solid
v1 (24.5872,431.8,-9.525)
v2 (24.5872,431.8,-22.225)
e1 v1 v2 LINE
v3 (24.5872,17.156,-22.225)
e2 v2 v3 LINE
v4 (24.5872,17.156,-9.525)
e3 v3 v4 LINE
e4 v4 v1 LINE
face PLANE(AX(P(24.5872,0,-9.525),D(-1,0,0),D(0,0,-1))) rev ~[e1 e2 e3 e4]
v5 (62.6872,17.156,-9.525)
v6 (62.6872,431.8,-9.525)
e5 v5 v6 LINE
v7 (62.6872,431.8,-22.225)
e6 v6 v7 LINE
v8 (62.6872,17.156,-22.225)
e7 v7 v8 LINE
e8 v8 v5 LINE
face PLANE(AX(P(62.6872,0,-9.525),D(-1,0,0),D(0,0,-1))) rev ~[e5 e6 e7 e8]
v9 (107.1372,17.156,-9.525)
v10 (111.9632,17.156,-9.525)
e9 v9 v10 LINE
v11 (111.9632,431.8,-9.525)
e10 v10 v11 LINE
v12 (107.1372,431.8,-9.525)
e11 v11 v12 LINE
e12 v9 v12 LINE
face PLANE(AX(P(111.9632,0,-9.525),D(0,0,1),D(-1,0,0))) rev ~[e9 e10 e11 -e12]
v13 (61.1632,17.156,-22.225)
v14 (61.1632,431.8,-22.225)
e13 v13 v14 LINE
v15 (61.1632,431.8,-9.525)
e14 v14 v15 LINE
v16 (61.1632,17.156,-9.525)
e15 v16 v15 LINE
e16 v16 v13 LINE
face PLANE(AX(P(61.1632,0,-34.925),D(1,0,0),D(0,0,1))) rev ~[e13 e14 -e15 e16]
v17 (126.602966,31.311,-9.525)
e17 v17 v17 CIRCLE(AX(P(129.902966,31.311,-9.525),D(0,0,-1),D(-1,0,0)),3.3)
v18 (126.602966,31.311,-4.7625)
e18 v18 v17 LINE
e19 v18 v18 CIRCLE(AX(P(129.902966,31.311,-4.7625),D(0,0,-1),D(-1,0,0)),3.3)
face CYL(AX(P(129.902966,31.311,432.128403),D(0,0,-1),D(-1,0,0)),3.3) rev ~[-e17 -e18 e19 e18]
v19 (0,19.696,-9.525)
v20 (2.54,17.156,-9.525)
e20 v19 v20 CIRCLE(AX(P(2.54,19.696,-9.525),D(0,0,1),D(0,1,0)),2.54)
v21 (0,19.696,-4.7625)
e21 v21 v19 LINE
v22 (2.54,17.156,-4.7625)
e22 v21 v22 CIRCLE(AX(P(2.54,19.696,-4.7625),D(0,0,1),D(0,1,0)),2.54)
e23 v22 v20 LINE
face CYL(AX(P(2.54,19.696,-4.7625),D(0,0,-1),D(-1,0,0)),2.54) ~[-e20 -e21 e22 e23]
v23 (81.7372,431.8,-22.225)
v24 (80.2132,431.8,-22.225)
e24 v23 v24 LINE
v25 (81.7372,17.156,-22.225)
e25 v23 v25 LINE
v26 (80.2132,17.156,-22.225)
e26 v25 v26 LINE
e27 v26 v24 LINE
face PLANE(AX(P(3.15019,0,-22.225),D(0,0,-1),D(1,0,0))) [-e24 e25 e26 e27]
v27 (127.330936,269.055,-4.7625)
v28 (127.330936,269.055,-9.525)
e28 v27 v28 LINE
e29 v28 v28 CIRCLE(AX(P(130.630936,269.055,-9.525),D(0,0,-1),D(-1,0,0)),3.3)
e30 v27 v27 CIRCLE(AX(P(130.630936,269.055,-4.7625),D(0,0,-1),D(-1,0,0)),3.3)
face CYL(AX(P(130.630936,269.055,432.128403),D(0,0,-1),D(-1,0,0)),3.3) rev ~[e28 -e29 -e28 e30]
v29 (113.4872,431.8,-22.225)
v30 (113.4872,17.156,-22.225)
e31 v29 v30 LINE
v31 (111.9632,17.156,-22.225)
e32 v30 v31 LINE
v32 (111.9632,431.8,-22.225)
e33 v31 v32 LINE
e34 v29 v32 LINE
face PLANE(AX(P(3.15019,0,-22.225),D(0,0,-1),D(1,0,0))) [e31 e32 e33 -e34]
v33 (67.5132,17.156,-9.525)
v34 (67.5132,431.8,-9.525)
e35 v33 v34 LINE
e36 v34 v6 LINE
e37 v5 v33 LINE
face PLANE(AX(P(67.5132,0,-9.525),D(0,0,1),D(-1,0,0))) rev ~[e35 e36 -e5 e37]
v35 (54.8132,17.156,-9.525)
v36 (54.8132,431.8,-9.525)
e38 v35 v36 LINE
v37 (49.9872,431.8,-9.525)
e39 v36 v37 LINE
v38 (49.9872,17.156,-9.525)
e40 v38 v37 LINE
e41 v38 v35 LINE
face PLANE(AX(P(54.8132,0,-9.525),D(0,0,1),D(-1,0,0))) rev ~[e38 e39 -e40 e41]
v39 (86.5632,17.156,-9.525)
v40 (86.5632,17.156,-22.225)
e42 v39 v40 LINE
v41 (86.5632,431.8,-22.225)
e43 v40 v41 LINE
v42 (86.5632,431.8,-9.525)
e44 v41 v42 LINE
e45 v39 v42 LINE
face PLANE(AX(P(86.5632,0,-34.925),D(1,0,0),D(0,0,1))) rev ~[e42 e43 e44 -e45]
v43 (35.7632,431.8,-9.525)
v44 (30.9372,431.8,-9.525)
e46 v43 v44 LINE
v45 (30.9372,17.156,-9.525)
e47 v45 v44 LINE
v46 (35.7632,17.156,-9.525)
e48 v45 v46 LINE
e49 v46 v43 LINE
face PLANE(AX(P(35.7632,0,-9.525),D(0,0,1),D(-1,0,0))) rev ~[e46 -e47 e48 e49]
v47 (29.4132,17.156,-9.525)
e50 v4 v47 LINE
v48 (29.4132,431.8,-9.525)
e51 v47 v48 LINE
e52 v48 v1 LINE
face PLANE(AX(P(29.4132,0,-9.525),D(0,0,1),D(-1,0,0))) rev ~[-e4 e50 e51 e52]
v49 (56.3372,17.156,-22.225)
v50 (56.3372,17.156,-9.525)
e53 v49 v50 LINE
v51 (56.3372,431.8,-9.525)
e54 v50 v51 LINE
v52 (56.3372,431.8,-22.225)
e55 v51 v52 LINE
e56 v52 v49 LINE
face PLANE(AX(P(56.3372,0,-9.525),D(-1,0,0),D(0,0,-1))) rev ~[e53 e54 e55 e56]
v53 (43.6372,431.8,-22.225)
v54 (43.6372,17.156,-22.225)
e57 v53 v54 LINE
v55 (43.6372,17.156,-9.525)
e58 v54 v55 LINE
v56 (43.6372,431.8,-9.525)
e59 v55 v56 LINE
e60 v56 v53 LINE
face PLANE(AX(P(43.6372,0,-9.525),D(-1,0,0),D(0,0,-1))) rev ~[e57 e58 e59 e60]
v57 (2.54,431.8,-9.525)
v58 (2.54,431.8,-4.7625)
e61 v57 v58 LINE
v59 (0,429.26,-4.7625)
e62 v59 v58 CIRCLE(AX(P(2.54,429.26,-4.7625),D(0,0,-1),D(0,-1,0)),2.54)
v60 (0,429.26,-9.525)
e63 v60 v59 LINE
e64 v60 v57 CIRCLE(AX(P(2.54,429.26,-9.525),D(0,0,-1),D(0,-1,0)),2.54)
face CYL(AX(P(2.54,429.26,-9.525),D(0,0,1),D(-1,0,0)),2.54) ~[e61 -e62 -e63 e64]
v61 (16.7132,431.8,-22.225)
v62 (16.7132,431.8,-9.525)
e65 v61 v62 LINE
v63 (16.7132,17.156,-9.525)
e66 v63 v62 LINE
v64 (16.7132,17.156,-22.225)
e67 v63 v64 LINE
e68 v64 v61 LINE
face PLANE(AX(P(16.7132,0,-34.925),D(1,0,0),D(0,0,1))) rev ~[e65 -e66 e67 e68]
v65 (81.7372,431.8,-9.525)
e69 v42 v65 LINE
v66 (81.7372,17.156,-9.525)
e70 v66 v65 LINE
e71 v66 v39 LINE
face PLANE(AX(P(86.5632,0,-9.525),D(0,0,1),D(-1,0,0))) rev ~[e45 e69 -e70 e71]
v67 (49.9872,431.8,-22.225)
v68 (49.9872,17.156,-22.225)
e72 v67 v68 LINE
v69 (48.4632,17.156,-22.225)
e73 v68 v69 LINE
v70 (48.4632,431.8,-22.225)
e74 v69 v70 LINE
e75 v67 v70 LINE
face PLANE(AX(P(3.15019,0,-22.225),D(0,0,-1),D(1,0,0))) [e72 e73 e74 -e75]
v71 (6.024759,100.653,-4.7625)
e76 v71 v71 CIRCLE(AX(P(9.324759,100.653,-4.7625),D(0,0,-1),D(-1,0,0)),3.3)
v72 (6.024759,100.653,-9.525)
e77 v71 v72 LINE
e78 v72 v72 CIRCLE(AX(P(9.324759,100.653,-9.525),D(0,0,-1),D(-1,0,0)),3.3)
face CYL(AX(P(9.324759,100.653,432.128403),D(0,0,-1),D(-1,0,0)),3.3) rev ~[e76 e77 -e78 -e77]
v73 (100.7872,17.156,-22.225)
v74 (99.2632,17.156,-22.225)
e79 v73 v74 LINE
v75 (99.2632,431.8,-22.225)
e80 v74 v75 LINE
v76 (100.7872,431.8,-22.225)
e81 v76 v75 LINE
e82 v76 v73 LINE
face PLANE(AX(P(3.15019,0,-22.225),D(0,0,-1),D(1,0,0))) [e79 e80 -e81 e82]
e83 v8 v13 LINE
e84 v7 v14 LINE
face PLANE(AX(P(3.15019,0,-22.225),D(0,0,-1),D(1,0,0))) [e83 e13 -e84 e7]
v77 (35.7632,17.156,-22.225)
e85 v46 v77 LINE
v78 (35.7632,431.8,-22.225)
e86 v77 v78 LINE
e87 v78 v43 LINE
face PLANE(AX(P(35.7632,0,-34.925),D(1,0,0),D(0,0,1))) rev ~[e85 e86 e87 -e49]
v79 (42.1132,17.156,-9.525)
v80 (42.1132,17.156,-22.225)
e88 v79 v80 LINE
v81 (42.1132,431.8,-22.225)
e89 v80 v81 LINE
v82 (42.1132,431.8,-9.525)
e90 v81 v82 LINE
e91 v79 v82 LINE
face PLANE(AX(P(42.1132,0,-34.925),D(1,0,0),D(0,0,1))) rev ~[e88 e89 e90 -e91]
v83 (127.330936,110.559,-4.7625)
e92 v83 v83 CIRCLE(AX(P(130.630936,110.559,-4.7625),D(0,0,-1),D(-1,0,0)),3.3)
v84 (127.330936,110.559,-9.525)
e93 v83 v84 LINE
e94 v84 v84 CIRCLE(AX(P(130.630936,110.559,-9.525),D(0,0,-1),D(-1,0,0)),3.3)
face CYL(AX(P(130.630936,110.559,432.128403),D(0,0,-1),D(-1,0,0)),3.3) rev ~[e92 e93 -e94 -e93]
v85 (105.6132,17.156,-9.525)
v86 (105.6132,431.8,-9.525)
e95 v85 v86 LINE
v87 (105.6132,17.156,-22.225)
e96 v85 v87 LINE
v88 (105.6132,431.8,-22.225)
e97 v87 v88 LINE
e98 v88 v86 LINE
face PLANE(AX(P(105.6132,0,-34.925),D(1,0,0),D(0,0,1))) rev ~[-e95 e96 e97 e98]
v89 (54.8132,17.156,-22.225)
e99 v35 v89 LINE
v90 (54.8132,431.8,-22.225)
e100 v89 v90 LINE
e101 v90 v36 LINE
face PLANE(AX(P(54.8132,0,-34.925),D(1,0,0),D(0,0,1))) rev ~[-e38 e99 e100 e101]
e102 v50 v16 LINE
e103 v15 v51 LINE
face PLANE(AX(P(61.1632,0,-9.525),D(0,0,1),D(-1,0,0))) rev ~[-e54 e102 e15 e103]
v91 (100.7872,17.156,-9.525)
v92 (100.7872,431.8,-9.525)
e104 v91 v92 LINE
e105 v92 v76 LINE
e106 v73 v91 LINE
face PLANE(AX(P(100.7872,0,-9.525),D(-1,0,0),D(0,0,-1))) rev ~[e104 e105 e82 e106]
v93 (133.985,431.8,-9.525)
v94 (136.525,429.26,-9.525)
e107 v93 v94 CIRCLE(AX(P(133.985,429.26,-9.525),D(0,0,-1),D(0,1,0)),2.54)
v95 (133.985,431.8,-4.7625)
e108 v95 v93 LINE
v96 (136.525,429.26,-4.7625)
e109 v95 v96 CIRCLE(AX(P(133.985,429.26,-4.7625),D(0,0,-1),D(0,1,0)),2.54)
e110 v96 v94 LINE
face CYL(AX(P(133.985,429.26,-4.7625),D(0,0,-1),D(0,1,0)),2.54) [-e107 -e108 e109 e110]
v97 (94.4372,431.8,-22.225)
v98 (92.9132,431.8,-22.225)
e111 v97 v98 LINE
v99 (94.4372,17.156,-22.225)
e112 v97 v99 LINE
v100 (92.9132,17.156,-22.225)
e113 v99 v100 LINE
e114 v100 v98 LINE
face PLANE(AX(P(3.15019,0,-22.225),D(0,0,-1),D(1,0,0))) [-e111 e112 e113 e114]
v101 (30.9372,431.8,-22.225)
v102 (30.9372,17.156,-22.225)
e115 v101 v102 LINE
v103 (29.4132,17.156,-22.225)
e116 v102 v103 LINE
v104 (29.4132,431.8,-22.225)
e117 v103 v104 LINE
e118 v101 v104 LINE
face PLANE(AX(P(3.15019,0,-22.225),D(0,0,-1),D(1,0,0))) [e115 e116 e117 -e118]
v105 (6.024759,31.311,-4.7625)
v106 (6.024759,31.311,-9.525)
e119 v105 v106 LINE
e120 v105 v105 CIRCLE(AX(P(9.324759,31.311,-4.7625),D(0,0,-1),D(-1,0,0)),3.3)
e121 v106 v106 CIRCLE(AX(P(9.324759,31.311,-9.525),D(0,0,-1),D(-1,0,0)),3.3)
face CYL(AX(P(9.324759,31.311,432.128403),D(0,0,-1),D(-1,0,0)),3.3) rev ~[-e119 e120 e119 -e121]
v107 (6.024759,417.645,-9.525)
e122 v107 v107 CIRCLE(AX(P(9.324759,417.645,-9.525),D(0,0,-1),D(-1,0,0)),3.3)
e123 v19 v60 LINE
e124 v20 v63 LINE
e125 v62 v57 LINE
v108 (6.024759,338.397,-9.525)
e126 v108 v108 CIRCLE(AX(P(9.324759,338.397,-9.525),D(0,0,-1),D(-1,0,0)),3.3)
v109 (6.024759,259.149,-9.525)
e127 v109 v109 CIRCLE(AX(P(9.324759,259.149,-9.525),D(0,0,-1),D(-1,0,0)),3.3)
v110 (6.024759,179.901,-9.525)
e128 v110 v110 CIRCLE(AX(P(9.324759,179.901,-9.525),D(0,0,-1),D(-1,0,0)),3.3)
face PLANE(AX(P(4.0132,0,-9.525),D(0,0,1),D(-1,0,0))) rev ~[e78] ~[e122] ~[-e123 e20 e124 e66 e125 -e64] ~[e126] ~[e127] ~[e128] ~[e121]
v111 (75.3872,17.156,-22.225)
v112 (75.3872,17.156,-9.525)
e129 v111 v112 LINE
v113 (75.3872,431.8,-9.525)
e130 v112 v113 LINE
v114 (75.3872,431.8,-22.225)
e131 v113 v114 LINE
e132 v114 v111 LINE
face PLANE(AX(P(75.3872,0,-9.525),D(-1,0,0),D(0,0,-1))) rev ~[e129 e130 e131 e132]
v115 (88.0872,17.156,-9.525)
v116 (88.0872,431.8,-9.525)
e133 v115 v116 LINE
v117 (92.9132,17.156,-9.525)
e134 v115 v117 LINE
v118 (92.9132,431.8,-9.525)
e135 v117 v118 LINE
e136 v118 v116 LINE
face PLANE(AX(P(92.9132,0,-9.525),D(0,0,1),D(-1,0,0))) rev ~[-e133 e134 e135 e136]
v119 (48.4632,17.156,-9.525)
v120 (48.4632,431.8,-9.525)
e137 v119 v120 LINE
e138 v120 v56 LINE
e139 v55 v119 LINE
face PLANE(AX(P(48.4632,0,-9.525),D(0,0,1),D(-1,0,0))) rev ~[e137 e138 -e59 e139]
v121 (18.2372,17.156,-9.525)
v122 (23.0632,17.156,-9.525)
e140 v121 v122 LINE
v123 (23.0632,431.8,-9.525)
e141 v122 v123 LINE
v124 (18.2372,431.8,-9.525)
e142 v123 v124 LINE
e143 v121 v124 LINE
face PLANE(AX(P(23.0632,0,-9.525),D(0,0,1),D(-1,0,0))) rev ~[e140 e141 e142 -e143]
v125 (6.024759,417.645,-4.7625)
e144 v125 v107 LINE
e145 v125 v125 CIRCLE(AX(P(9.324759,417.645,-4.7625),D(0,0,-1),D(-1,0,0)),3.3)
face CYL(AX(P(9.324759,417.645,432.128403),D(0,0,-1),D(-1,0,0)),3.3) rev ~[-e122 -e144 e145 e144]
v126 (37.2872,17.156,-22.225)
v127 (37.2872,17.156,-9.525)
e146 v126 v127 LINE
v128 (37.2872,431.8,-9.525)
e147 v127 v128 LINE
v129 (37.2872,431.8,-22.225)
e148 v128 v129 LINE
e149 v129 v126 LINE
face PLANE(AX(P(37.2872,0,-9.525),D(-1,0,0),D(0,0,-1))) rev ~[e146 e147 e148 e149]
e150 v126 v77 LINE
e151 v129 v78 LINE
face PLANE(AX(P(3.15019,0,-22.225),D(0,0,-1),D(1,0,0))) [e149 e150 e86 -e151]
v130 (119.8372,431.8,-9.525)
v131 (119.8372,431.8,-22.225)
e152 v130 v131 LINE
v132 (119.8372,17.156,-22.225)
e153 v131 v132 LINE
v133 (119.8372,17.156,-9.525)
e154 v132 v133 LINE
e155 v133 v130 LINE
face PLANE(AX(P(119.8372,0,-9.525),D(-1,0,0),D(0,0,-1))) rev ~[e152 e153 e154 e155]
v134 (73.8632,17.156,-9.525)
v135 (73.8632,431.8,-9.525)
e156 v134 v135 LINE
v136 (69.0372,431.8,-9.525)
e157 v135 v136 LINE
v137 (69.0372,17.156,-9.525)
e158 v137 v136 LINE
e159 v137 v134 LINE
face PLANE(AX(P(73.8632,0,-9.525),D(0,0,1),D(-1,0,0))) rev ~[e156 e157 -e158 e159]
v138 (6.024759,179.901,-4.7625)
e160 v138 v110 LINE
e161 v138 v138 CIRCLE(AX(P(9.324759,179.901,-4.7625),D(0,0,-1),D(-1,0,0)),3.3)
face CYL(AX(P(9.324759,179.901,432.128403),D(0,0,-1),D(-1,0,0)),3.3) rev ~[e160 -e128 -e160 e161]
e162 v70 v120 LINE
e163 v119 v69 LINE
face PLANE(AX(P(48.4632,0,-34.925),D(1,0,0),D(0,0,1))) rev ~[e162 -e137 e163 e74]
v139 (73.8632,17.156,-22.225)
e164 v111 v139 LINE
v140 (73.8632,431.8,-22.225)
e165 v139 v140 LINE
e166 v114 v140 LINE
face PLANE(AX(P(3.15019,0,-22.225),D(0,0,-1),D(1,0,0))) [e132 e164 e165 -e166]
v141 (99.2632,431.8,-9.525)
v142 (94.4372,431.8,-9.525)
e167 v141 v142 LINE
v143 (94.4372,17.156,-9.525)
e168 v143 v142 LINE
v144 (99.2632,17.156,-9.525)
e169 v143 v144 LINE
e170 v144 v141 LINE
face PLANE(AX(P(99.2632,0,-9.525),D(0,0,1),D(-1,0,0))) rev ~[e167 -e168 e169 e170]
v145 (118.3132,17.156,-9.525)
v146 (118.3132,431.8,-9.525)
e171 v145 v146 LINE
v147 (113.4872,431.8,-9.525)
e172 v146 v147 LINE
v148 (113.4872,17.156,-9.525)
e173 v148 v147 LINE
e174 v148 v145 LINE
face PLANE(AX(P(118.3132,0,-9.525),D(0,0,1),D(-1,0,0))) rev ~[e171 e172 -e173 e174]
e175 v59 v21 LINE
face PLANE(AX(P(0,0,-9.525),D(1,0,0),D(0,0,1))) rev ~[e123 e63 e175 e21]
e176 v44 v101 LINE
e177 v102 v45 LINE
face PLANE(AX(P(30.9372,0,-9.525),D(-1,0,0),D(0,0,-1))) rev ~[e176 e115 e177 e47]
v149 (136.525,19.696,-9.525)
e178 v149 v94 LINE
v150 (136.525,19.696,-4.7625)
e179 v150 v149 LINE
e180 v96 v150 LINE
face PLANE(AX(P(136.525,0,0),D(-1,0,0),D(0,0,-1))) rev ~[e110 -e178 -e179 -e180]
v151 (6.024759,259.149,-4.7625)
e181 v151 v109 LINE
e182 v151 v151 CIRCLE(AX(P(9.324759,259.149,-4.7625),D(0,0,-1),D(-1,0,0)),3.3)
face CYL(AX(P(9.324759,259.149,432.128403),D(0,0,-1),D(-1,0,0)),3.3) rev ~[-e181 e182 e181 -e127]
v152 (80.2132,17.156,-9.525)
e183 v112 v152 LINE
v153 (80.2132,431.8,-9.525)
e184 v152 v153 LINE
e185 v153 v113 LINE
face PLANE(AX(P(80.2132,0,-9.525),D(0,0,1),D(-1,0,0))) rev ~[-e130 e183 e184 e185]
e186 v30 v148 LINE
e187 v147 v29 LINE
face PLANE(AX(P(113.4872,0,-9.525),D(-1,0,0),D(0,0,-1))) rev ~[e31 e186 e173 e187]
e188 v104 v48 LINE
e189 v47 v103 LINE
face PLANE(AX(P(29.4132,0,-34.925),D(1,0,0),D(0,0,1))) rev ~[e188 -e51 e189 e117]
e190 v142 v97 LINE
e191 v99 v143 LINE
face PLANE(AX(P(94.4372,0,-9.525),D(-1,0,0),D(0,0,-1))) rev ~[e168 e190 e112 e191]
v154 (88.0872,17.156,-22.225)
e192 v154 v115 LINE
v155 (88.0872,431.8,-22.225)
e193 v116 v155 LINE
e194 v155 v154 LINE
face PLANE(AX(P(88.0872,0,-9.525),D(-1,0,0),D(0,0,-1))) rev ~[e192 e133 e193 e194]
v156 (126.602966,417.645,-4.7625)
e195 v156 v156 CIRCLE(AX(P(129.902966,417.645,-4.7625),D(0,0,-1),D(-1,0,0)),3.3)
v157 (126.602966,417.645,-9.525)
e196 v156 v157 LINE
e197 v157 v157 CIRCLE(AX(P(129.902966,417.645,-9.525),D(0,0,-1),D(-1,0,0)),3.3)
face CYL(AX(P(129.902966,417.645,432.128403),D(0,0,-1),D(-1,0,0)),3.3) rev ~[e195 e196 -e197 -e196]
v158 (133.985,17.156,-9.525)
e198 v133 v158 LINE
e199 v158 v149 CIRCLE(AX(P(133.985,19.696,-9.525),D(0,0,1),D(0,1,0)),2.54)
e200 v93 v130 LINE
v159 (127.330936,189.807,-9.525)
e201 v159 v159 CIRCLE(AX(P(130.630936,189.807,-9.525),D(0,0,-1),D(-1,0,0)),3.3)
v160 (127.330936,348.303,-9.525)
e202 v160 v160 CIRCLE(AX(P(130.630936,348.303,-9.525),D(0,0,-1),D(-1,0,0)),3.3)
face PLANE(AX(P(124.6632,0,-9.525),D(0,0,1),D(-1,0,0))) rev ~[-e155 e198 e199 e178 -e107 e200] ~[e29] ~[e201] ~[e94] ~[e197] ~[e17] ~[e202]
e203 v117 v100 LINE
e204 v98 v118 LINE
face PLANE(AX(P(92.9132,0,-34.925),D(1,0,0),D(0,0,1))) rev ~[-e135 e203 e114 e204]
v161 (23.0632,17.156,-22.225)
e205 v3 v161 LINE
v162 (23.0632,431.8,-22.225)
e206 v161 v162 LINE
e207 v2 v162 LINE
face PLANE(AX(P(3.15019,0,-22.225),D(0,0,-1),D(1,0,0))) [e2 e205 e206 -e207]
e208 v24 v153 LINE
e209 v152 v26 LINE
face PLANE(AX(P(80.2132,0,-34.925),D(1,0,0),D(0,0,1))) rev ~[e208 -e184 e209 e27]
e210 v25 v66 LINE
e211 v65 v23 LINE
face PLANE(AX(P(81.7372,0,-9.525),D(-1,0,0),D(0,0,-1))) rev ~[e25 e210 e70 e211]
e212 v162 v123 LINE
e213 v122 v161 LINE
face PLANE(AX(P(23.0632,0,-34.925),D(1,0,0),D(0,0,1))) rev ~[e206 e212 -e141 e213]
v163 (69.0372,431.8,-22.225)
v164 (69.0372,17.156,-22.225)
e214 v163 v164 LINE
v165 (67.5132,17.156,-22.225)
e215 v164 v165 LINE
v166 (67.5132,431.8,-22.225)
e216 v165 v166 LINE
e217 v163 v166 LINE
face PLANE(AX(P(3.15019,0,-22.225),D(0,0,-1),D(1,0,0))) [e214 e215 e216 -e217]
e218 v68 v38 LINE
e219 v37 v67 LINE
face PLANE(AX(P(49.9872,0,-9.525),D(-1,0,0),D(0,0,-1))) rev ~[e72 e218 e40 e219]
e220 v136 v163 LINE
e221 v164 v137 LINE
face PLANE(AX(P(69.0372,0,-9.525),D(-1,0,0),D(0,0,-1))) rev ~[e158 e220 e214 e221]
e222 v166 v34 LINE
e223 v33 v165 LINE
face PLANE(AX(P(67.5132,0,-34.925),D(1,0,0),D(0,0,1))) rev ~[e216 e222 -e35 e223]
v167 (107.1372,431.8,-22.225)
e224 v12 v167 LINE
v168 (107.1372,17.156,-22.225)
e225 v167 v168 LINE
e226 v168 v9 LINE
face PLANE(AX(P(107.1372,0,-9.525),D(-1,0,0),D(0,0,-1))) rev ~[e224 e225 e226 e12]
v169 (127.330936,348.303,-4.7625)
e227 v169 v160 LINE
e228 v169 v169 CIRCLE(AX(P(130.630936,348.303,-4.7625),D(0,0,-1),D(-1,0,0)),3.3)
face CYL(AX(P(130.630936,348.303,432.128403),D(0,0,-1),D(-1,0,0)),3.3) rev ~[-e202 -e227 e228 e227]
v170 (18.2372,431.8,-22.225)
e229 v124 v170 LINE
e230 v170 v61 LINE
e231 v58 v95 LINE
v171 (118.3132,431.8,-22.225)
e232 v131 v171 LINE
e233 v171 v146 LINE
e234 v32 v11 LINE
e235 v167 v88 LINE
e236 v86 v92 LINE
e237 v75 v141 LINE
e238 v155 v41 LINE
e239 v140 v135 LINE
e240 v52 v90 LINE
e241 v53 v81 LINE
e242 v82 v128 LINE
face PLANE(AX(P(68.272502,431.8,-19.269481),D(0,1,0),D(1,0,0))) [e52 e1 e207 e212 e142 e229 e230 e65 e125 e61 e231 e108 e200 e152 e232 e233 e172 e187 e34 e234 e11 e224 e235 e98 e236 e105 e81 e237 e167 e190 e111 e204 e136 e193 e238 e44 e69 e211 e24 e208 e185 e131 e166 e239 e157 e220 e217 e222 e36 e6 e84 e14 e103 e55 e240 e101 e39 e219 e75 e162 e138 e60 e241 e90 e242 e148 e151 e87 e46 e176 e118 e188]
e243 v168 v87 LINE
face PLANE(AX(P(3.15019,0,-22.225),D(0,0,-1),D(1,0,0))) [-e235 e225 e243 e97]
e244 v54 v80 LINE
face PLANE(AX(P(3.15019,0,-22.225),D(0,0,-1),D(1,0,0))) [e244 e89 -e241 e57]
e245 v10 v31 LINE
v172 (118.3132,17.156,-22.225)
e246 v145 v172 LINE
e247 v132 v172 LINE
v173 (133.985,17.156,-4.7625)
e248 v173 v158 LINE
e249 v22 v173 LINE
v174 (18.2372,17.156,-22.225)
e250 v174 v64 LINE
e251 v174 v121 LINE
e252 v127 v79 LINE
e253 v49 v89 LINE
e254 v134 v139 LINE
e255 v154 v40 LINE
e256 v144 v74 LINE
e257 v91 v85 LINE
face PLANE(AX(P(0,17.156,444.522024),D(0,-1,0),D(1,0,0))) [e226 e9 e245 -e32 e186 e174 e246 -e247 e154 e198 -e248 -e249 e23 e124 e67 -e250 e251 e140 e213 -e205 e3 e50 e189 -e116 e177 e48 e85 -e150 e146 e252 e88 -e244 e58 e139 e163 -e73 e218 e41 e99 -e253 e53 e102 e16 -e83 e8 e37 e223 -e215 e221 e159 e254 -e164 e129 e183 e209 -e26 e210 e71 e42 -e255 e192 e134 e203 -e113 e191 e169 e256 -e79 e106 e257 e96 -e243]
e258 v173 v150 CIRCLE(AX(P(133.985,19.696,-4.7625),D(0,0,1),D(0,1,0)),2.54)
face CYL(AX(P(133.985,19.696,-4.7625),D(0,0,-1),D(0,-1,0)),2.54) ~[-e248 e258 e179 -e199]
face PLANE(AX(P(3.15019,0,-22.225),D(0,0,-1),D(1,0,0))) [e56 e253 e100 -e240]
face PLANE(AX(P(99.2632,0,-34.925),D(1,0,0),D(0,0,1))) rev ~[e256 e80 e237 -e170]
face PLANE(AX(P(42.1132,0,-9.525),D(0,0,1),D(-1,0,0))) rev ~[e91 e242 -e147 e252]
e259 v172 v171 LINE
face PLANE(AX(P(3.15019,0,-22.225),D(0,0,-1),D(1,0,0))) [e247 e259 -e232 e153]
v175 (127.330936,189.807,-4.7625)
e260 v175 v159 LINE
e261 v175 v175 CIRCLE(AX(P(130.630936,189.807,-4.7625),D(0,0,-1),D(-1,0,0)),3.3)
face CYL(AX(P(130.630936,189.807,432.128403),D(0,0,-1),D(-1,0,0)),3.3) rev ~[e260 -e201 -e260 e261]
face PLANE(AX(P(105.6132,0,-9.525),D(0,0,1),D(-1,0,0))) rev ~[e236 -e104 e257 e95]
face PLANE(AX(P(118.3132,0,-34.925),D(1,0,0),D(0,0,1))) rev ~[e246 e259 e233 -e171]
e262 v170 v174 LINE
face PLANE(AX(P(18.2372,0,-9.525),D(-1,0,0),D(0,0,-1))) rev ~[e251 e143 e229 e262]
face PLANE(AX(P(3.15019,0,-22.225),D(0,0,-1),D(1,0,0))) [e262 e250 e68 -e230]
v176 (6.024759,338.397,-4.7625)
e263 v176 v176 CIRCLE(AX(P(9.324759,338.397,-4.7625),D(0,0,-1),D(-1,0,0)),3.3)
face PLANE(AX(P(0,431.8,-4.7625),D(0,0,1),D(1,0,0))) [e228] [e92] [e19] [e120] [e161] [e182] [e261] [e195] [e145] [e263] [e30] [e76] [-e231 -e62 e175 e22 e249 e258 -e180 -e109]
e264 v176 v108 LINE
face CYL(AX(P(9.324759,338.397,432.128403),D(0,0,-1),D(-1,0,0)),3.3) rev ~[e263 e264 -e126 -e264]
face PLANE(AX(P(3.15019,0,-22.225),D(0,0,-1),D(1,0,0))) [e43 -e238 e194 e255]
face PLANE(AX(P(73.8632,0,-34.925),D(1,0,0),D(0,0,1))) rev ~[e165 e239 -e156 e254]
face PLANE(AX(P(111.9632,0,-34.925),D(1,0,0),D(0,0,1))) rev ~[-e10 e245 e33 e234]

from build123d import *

# Parameters (mm, degrees)
BOSS_EXTRUDE1_DEPTH     = 431.8
SKETCH2_W               = 136.525
SKETCH2_H               = 4.7625
CUT_EXTRUDE1_DEPTH      = 455.272910918
SKETCH3_W               = 132.265960651
SKETCH3_H               = 13.462
CUT_EXTRUDE2_DEPTH      = 455.272910918
SKETCH4_W               = 11.600566843
SKETCH4_H               = 14.103653616
SKETCH4_W_2             = 12.2809
SKETCH4_H_2             = 14.918520238
CUT_EXTRUDE3_DEPTH      = 454.414011969
CUT_EXTRUDE4_DEPTH      = 454.047023636
CUT_EXTRUDE4_DEPTH_BACK = 454.047023636
SKETCH5_W               = 16.6878
SKETCH5_H               = 17.155999978
SKETCH5_W_2             = 119.8372
FILLET1_R               = 2.54
M6_CLEARANCE_HOLE2_D    = 6.6


with BuildPart() as part:
    # Sketch1 → Boss-Extrude1 (new body)
    with BuildSketch(Plane(origin=(0, 0, 0), x_dir=(1, 0, 0), z_dir=(0, 1, 0))):
        with BuildLine():
            Line((0, 0), (136.525, 0))
            Line((136.525, 0), (136.525, 9.525))
            Line((136.525, 9.525), (132.5372, 9.525))
            Line((132.5372, 9.525), (132.5372, 34.925))
            ThreePointArc((132.5372, 34.925), (131.7752, 35.687), (131.0132, 34.925))
            Line((131.0132, 34.925), (131.0132, 9.525))
            Line((131.0132, 9.525), (126.1872, 9.525))
            Line((126.1872, 9.525), (126.1872, 34.925))
            ThreePointArc((126.1872, 34.925), (125.4252, 35.687), (124.6632, 34.925))
            Line((124.6632, 34.925), (124.6632, 9.525))
            Line((124.6632, 9.525), (119.8372, 9.525))
            Line((119.8372, 9.525), (119.8372, 34.925))
            ThreePointArc((119.8372, 34.925), (119.0752, 35.687), (118.3132, 34.925))
            Line((118.3132, 34.925), (118.3132, 9.525))
            Line((118.3132, 9.525), (113.4872, 9.525))
            Line((113.4872, 9.525), (113.4872, 34.925))
            ThreePointArc((113.4872, 34.925), (112.7252, 35.687), (111.9632, 34.925))
            Line((111.9632, 34.925), (111.9632, 9.525))
            Line((111.9632, 9.525), (107.1372, 9.525))
            Line((107.1372, 9.525), (107.1372, 34.925))
            ThreePointArc((107.1372, 34.925), (106.3752, 35.687), (105.6132, 34.925))
            Line((105.6132, 34.925), (105.6132, 9.525))
            Line((105.6132, 9.525), (100.7872, 9.525))
            Line((100.7872, 9.525), (100.7872, 34.925))
            ThreePointArc((100.7872, 34.925), (100.0252, 35.687), (99.2632, 34.925))
            Line((99.2632, 34.925), (99.2632, 9.525))
            Line((99.2632, 9.525), (94.4372, 9.525))
            Line((94.4372, 9.525), (94.4372, 34.925))
            ThreePointArc((94.4372, 34.925), (93.6752, 35.687), (92.9132, 34.925))
            Line((92.9132, 34.925), (92.9132, 9.525))
            Line((92.9132, 9.525), (88.0872, 9.525))
            Line((88.0872, 9.525), (88.0872, 34.925))
            ThreePointArc((88.0872, 34.925), (87.3252, 35.687), (86.5632, 34.925))
            Line((86.5632, 34.925), (86.5632, 9.525))
            Line((86.5632, 9.525), (81.7372, 9.525))
            Line((81.7372, 9.525), (81.7372, 34.925))
            ThreePointArc((81.7372, 34.925), (80.9752, 35.687), (80.2132, 34.925))
            Line((80.2132, 34.925), (80.2132, 9.525))
            Line((80.2132, 9.525), (75.3872, 9.525))
            Line((75.3872, 9.525), (75.3872, 34.925))
            ThreePointArc((75.3872, 34.925), (74.6252, 35.687), (73.8632, 34.925))
            Line((73.8632, 34.925), (73.8632, 9.525))
            Line((73.8632, 9.525), (69.0372, 9.525))
            Line((69.0372, 9.525), (69.0372, 34.925))
            ThreePointArc((69.0372, 34.925), (68.2752, 35.687), (67.5132, 34.925))
            Line((67.5132, 34.925), (67.5132, 9.525))
            Line((67.5132, 9.525), (62.6872, 9.525))
            Line((62.6872, 9.525), (62.6872, 34.925))
            ThreePointArc((62.6872, 34.925), (61.9252, 35.687), (61.1632, 34.925))
            Line((61.1632, 34.925), (61.1632, 9.525))
            Line((61.1632, 9.525), (56.3372, 9.525))
            Line((56.3372, 9.525), (56.3372, 34.925))
            ThreePointArc((56.3372, 34.925), (55.5752, 35.687), (54.8132, 34.925))
            Line((54.8132, 34.925), (54.8132, 9.525))
            Line((54.8132, 9.525), (49.9872, 9.525))
            Line((49.9872, 9.525), (49.9872, 34.925))
            ThreePointArc((49.9872, 34.925), (49.2252, 35.687), (48.4632, 34.925))
            Line((48.4632, 34.925), (48.4632, 9.525))
            Line((48.4632, 9.525), (43.6372, 9.525))
            Line((43.6372, 9.525), (43.6372, 34.925))
            ThreePointArc((43.6372, 34.925), (42.8752, 35.687), (42.1132, 34.925))
            Line((42.1132, 34.925), (42.1132, 9.525))
            Line((42.1132, 9.525), (37.2872, 9.525))
            Line((37.2872, 9.525), (37.2872, 34.925))
            ThreePointArc((37.2872, 34.925), (36.5252, 35.687), (35.7632, 34.925))
            Line((35.7632, 34.925), (35.7632, 9.525))
            Line((35.7632, 9.525), (30.9372, 9.525))
            Line((30.9372, 9.525), (30.9372, 34.925))
            ThreePointArc((30.9372, 34.925), (30.1752, 35.687), (29.4132, 34.925))
            Line((29.4132, 34.925), (29.4132, 9.525))
            Line((29.4132, 9.525), (24.5872, 9.525))
            Line((24.5872, 9.525), (24.5872, 34.925))
            ThreePointArc((24.5872, 34.925), (23.8252, 35.687), (23.0632, 34.925))
            Line((23.0632, 34.925), (23.0632, 9.525))
            Line((23.0632, 9.525), (18.2372, 9.525))
            Line((18.2372, 9.525), (18.2372, 34.925))
            ThreePointArc((18.2372, 34.925), (17.4752, 35.687), (16.7132, 34.925))
            Line((16.7132, 34.925), (16.7132, 9.525))
            Line((16.7132, 9.525), (11.8872, 9.525))
            Line((11.8872, 9.525), (11.8872, 34.925))
            ThreePointArc((11.8872, 34.925), (11.1252, 35.687), (10.3632, 34.925))
            Line((10.3632, 34.925), (10.3632, 9.525))
            Line((10.3632, 9.525), (5.5372, 9.525))
            Line((5.5372, 9.525), (5.5372, 34.925))
            ThreePointArc((5.5372, 34.925), (4.7752, 35.687), (4.0132, 34.925))
            Line((4.0132, 34.925), (4.0132, 9.525))
            Line((4.0132, 9.525), (0, 9.525))
            Line((0, 9.525), (0, 0))
        make_face()
    extrude(amount=BOSS_EXTRUDE1_DEPTH)

    # Sketch2 → Cut-Extrude1 (cut, through all)
    with BuildSketch(Plane(origin=(0, 431.8, 0), x_dir=(1, 0, 0), z_dir=(0, 1, 0))):
        with Locations((68.2625, 2.38125)):
            Rectangle(SKETCH2_W, SKETCH2_H)
    extrude(amount=-CUT_EXTRUDE1_DEPTH, mode=Mode.SUBTRACT)

    # Sketch3 → Cut-Extrude2 (cut, through all)
    with BuildSketch(Plane.XZ):
        with Locations((69.2831702, -28.956)):
            Rectangle(SKETCH3_W, SKETCH3_H)
    extrude(amount=-CUT_EXTRUDE2_DEPTH, mode=Mode.SUBTRACT)

    # Sketch4 → Cut-Extrude3 (cut, through all)
    with BuildSketch(Plane(origin=(0, 431.8, 0), x_dir=(1, 0, 0), z_dir=(0, 1, 0))):
        with Locations((7.806883422, 16.576826808)):
            Rectangle(SKETCH4_W, SKETCH4_H)
        with Locations((128.39065, 16.984260119)):
            Rectangle(SKETCH4_W_2, SKETCH4_H_2)
    extrude(amount=-CUT_EXTRUDE3_DEPTH, mode=Mode.SUBTRACT)

    # Sketch5 → Cut-Extrude4 (cut, two sides: drawn at the far end of the back side and taken through both)
    with BuildSketch(Plane(origin=(0, 0, -9.525), x_dir=(-1, 0, 0), z_dir=(0, 0, -1)).offset(-CUT_EXTRUDE4_DEPTH_BACK)):
        with Locations((-128.1811, 8.577999989)):
            Rectangle(SKETCH5_W, SKETCH5_H)
        with Locations((-59.9186, 8.577999989)):
            Rectangle(SKETCH5_W_2, SKETCH5_H)
    extrude(amount=CUT_EXTRUDE4_DEPTH + CUT_EXTRUDE4_DEPTH_BACK, mode=Mode.SUBTRACT)

    # Fillet1
    fillet1_edges = [part.edges().sort_by_distance(p)[0] for p in [
        (136.525, 431.8, -7.14375),
        (0, 431.8, -7.14375),
        (0, 17.155999978, -7.14375),
        (136.525, 17.155999978, -7.14375),
    ]]
    fillet(fillet1_edges, radius=FILLET1_R)

    # M6 Clearance Hole2 (through all)
    with Locations(Plane.XY.offset(-4.7625)):
        with Locations((9.324759355, 31.310999989), (129.902965514, 31.310999989), (130.630936095, 110.558999989), (9.324759355, 100.652999989), (9.324759355, 179.900999989), (130.630936095, 189.806999989), (9.324759355, 259.148999989), (130.630936095, 269.054999989), (130.630936095, 348.302999989), (9.324759355, 338.396999989), (9.324759355, 417.644999989), (129.902965514, 417.644999989)):
            Hole(M6_CLEARANCE_HOLE2_D / 2)


solid = part.part
